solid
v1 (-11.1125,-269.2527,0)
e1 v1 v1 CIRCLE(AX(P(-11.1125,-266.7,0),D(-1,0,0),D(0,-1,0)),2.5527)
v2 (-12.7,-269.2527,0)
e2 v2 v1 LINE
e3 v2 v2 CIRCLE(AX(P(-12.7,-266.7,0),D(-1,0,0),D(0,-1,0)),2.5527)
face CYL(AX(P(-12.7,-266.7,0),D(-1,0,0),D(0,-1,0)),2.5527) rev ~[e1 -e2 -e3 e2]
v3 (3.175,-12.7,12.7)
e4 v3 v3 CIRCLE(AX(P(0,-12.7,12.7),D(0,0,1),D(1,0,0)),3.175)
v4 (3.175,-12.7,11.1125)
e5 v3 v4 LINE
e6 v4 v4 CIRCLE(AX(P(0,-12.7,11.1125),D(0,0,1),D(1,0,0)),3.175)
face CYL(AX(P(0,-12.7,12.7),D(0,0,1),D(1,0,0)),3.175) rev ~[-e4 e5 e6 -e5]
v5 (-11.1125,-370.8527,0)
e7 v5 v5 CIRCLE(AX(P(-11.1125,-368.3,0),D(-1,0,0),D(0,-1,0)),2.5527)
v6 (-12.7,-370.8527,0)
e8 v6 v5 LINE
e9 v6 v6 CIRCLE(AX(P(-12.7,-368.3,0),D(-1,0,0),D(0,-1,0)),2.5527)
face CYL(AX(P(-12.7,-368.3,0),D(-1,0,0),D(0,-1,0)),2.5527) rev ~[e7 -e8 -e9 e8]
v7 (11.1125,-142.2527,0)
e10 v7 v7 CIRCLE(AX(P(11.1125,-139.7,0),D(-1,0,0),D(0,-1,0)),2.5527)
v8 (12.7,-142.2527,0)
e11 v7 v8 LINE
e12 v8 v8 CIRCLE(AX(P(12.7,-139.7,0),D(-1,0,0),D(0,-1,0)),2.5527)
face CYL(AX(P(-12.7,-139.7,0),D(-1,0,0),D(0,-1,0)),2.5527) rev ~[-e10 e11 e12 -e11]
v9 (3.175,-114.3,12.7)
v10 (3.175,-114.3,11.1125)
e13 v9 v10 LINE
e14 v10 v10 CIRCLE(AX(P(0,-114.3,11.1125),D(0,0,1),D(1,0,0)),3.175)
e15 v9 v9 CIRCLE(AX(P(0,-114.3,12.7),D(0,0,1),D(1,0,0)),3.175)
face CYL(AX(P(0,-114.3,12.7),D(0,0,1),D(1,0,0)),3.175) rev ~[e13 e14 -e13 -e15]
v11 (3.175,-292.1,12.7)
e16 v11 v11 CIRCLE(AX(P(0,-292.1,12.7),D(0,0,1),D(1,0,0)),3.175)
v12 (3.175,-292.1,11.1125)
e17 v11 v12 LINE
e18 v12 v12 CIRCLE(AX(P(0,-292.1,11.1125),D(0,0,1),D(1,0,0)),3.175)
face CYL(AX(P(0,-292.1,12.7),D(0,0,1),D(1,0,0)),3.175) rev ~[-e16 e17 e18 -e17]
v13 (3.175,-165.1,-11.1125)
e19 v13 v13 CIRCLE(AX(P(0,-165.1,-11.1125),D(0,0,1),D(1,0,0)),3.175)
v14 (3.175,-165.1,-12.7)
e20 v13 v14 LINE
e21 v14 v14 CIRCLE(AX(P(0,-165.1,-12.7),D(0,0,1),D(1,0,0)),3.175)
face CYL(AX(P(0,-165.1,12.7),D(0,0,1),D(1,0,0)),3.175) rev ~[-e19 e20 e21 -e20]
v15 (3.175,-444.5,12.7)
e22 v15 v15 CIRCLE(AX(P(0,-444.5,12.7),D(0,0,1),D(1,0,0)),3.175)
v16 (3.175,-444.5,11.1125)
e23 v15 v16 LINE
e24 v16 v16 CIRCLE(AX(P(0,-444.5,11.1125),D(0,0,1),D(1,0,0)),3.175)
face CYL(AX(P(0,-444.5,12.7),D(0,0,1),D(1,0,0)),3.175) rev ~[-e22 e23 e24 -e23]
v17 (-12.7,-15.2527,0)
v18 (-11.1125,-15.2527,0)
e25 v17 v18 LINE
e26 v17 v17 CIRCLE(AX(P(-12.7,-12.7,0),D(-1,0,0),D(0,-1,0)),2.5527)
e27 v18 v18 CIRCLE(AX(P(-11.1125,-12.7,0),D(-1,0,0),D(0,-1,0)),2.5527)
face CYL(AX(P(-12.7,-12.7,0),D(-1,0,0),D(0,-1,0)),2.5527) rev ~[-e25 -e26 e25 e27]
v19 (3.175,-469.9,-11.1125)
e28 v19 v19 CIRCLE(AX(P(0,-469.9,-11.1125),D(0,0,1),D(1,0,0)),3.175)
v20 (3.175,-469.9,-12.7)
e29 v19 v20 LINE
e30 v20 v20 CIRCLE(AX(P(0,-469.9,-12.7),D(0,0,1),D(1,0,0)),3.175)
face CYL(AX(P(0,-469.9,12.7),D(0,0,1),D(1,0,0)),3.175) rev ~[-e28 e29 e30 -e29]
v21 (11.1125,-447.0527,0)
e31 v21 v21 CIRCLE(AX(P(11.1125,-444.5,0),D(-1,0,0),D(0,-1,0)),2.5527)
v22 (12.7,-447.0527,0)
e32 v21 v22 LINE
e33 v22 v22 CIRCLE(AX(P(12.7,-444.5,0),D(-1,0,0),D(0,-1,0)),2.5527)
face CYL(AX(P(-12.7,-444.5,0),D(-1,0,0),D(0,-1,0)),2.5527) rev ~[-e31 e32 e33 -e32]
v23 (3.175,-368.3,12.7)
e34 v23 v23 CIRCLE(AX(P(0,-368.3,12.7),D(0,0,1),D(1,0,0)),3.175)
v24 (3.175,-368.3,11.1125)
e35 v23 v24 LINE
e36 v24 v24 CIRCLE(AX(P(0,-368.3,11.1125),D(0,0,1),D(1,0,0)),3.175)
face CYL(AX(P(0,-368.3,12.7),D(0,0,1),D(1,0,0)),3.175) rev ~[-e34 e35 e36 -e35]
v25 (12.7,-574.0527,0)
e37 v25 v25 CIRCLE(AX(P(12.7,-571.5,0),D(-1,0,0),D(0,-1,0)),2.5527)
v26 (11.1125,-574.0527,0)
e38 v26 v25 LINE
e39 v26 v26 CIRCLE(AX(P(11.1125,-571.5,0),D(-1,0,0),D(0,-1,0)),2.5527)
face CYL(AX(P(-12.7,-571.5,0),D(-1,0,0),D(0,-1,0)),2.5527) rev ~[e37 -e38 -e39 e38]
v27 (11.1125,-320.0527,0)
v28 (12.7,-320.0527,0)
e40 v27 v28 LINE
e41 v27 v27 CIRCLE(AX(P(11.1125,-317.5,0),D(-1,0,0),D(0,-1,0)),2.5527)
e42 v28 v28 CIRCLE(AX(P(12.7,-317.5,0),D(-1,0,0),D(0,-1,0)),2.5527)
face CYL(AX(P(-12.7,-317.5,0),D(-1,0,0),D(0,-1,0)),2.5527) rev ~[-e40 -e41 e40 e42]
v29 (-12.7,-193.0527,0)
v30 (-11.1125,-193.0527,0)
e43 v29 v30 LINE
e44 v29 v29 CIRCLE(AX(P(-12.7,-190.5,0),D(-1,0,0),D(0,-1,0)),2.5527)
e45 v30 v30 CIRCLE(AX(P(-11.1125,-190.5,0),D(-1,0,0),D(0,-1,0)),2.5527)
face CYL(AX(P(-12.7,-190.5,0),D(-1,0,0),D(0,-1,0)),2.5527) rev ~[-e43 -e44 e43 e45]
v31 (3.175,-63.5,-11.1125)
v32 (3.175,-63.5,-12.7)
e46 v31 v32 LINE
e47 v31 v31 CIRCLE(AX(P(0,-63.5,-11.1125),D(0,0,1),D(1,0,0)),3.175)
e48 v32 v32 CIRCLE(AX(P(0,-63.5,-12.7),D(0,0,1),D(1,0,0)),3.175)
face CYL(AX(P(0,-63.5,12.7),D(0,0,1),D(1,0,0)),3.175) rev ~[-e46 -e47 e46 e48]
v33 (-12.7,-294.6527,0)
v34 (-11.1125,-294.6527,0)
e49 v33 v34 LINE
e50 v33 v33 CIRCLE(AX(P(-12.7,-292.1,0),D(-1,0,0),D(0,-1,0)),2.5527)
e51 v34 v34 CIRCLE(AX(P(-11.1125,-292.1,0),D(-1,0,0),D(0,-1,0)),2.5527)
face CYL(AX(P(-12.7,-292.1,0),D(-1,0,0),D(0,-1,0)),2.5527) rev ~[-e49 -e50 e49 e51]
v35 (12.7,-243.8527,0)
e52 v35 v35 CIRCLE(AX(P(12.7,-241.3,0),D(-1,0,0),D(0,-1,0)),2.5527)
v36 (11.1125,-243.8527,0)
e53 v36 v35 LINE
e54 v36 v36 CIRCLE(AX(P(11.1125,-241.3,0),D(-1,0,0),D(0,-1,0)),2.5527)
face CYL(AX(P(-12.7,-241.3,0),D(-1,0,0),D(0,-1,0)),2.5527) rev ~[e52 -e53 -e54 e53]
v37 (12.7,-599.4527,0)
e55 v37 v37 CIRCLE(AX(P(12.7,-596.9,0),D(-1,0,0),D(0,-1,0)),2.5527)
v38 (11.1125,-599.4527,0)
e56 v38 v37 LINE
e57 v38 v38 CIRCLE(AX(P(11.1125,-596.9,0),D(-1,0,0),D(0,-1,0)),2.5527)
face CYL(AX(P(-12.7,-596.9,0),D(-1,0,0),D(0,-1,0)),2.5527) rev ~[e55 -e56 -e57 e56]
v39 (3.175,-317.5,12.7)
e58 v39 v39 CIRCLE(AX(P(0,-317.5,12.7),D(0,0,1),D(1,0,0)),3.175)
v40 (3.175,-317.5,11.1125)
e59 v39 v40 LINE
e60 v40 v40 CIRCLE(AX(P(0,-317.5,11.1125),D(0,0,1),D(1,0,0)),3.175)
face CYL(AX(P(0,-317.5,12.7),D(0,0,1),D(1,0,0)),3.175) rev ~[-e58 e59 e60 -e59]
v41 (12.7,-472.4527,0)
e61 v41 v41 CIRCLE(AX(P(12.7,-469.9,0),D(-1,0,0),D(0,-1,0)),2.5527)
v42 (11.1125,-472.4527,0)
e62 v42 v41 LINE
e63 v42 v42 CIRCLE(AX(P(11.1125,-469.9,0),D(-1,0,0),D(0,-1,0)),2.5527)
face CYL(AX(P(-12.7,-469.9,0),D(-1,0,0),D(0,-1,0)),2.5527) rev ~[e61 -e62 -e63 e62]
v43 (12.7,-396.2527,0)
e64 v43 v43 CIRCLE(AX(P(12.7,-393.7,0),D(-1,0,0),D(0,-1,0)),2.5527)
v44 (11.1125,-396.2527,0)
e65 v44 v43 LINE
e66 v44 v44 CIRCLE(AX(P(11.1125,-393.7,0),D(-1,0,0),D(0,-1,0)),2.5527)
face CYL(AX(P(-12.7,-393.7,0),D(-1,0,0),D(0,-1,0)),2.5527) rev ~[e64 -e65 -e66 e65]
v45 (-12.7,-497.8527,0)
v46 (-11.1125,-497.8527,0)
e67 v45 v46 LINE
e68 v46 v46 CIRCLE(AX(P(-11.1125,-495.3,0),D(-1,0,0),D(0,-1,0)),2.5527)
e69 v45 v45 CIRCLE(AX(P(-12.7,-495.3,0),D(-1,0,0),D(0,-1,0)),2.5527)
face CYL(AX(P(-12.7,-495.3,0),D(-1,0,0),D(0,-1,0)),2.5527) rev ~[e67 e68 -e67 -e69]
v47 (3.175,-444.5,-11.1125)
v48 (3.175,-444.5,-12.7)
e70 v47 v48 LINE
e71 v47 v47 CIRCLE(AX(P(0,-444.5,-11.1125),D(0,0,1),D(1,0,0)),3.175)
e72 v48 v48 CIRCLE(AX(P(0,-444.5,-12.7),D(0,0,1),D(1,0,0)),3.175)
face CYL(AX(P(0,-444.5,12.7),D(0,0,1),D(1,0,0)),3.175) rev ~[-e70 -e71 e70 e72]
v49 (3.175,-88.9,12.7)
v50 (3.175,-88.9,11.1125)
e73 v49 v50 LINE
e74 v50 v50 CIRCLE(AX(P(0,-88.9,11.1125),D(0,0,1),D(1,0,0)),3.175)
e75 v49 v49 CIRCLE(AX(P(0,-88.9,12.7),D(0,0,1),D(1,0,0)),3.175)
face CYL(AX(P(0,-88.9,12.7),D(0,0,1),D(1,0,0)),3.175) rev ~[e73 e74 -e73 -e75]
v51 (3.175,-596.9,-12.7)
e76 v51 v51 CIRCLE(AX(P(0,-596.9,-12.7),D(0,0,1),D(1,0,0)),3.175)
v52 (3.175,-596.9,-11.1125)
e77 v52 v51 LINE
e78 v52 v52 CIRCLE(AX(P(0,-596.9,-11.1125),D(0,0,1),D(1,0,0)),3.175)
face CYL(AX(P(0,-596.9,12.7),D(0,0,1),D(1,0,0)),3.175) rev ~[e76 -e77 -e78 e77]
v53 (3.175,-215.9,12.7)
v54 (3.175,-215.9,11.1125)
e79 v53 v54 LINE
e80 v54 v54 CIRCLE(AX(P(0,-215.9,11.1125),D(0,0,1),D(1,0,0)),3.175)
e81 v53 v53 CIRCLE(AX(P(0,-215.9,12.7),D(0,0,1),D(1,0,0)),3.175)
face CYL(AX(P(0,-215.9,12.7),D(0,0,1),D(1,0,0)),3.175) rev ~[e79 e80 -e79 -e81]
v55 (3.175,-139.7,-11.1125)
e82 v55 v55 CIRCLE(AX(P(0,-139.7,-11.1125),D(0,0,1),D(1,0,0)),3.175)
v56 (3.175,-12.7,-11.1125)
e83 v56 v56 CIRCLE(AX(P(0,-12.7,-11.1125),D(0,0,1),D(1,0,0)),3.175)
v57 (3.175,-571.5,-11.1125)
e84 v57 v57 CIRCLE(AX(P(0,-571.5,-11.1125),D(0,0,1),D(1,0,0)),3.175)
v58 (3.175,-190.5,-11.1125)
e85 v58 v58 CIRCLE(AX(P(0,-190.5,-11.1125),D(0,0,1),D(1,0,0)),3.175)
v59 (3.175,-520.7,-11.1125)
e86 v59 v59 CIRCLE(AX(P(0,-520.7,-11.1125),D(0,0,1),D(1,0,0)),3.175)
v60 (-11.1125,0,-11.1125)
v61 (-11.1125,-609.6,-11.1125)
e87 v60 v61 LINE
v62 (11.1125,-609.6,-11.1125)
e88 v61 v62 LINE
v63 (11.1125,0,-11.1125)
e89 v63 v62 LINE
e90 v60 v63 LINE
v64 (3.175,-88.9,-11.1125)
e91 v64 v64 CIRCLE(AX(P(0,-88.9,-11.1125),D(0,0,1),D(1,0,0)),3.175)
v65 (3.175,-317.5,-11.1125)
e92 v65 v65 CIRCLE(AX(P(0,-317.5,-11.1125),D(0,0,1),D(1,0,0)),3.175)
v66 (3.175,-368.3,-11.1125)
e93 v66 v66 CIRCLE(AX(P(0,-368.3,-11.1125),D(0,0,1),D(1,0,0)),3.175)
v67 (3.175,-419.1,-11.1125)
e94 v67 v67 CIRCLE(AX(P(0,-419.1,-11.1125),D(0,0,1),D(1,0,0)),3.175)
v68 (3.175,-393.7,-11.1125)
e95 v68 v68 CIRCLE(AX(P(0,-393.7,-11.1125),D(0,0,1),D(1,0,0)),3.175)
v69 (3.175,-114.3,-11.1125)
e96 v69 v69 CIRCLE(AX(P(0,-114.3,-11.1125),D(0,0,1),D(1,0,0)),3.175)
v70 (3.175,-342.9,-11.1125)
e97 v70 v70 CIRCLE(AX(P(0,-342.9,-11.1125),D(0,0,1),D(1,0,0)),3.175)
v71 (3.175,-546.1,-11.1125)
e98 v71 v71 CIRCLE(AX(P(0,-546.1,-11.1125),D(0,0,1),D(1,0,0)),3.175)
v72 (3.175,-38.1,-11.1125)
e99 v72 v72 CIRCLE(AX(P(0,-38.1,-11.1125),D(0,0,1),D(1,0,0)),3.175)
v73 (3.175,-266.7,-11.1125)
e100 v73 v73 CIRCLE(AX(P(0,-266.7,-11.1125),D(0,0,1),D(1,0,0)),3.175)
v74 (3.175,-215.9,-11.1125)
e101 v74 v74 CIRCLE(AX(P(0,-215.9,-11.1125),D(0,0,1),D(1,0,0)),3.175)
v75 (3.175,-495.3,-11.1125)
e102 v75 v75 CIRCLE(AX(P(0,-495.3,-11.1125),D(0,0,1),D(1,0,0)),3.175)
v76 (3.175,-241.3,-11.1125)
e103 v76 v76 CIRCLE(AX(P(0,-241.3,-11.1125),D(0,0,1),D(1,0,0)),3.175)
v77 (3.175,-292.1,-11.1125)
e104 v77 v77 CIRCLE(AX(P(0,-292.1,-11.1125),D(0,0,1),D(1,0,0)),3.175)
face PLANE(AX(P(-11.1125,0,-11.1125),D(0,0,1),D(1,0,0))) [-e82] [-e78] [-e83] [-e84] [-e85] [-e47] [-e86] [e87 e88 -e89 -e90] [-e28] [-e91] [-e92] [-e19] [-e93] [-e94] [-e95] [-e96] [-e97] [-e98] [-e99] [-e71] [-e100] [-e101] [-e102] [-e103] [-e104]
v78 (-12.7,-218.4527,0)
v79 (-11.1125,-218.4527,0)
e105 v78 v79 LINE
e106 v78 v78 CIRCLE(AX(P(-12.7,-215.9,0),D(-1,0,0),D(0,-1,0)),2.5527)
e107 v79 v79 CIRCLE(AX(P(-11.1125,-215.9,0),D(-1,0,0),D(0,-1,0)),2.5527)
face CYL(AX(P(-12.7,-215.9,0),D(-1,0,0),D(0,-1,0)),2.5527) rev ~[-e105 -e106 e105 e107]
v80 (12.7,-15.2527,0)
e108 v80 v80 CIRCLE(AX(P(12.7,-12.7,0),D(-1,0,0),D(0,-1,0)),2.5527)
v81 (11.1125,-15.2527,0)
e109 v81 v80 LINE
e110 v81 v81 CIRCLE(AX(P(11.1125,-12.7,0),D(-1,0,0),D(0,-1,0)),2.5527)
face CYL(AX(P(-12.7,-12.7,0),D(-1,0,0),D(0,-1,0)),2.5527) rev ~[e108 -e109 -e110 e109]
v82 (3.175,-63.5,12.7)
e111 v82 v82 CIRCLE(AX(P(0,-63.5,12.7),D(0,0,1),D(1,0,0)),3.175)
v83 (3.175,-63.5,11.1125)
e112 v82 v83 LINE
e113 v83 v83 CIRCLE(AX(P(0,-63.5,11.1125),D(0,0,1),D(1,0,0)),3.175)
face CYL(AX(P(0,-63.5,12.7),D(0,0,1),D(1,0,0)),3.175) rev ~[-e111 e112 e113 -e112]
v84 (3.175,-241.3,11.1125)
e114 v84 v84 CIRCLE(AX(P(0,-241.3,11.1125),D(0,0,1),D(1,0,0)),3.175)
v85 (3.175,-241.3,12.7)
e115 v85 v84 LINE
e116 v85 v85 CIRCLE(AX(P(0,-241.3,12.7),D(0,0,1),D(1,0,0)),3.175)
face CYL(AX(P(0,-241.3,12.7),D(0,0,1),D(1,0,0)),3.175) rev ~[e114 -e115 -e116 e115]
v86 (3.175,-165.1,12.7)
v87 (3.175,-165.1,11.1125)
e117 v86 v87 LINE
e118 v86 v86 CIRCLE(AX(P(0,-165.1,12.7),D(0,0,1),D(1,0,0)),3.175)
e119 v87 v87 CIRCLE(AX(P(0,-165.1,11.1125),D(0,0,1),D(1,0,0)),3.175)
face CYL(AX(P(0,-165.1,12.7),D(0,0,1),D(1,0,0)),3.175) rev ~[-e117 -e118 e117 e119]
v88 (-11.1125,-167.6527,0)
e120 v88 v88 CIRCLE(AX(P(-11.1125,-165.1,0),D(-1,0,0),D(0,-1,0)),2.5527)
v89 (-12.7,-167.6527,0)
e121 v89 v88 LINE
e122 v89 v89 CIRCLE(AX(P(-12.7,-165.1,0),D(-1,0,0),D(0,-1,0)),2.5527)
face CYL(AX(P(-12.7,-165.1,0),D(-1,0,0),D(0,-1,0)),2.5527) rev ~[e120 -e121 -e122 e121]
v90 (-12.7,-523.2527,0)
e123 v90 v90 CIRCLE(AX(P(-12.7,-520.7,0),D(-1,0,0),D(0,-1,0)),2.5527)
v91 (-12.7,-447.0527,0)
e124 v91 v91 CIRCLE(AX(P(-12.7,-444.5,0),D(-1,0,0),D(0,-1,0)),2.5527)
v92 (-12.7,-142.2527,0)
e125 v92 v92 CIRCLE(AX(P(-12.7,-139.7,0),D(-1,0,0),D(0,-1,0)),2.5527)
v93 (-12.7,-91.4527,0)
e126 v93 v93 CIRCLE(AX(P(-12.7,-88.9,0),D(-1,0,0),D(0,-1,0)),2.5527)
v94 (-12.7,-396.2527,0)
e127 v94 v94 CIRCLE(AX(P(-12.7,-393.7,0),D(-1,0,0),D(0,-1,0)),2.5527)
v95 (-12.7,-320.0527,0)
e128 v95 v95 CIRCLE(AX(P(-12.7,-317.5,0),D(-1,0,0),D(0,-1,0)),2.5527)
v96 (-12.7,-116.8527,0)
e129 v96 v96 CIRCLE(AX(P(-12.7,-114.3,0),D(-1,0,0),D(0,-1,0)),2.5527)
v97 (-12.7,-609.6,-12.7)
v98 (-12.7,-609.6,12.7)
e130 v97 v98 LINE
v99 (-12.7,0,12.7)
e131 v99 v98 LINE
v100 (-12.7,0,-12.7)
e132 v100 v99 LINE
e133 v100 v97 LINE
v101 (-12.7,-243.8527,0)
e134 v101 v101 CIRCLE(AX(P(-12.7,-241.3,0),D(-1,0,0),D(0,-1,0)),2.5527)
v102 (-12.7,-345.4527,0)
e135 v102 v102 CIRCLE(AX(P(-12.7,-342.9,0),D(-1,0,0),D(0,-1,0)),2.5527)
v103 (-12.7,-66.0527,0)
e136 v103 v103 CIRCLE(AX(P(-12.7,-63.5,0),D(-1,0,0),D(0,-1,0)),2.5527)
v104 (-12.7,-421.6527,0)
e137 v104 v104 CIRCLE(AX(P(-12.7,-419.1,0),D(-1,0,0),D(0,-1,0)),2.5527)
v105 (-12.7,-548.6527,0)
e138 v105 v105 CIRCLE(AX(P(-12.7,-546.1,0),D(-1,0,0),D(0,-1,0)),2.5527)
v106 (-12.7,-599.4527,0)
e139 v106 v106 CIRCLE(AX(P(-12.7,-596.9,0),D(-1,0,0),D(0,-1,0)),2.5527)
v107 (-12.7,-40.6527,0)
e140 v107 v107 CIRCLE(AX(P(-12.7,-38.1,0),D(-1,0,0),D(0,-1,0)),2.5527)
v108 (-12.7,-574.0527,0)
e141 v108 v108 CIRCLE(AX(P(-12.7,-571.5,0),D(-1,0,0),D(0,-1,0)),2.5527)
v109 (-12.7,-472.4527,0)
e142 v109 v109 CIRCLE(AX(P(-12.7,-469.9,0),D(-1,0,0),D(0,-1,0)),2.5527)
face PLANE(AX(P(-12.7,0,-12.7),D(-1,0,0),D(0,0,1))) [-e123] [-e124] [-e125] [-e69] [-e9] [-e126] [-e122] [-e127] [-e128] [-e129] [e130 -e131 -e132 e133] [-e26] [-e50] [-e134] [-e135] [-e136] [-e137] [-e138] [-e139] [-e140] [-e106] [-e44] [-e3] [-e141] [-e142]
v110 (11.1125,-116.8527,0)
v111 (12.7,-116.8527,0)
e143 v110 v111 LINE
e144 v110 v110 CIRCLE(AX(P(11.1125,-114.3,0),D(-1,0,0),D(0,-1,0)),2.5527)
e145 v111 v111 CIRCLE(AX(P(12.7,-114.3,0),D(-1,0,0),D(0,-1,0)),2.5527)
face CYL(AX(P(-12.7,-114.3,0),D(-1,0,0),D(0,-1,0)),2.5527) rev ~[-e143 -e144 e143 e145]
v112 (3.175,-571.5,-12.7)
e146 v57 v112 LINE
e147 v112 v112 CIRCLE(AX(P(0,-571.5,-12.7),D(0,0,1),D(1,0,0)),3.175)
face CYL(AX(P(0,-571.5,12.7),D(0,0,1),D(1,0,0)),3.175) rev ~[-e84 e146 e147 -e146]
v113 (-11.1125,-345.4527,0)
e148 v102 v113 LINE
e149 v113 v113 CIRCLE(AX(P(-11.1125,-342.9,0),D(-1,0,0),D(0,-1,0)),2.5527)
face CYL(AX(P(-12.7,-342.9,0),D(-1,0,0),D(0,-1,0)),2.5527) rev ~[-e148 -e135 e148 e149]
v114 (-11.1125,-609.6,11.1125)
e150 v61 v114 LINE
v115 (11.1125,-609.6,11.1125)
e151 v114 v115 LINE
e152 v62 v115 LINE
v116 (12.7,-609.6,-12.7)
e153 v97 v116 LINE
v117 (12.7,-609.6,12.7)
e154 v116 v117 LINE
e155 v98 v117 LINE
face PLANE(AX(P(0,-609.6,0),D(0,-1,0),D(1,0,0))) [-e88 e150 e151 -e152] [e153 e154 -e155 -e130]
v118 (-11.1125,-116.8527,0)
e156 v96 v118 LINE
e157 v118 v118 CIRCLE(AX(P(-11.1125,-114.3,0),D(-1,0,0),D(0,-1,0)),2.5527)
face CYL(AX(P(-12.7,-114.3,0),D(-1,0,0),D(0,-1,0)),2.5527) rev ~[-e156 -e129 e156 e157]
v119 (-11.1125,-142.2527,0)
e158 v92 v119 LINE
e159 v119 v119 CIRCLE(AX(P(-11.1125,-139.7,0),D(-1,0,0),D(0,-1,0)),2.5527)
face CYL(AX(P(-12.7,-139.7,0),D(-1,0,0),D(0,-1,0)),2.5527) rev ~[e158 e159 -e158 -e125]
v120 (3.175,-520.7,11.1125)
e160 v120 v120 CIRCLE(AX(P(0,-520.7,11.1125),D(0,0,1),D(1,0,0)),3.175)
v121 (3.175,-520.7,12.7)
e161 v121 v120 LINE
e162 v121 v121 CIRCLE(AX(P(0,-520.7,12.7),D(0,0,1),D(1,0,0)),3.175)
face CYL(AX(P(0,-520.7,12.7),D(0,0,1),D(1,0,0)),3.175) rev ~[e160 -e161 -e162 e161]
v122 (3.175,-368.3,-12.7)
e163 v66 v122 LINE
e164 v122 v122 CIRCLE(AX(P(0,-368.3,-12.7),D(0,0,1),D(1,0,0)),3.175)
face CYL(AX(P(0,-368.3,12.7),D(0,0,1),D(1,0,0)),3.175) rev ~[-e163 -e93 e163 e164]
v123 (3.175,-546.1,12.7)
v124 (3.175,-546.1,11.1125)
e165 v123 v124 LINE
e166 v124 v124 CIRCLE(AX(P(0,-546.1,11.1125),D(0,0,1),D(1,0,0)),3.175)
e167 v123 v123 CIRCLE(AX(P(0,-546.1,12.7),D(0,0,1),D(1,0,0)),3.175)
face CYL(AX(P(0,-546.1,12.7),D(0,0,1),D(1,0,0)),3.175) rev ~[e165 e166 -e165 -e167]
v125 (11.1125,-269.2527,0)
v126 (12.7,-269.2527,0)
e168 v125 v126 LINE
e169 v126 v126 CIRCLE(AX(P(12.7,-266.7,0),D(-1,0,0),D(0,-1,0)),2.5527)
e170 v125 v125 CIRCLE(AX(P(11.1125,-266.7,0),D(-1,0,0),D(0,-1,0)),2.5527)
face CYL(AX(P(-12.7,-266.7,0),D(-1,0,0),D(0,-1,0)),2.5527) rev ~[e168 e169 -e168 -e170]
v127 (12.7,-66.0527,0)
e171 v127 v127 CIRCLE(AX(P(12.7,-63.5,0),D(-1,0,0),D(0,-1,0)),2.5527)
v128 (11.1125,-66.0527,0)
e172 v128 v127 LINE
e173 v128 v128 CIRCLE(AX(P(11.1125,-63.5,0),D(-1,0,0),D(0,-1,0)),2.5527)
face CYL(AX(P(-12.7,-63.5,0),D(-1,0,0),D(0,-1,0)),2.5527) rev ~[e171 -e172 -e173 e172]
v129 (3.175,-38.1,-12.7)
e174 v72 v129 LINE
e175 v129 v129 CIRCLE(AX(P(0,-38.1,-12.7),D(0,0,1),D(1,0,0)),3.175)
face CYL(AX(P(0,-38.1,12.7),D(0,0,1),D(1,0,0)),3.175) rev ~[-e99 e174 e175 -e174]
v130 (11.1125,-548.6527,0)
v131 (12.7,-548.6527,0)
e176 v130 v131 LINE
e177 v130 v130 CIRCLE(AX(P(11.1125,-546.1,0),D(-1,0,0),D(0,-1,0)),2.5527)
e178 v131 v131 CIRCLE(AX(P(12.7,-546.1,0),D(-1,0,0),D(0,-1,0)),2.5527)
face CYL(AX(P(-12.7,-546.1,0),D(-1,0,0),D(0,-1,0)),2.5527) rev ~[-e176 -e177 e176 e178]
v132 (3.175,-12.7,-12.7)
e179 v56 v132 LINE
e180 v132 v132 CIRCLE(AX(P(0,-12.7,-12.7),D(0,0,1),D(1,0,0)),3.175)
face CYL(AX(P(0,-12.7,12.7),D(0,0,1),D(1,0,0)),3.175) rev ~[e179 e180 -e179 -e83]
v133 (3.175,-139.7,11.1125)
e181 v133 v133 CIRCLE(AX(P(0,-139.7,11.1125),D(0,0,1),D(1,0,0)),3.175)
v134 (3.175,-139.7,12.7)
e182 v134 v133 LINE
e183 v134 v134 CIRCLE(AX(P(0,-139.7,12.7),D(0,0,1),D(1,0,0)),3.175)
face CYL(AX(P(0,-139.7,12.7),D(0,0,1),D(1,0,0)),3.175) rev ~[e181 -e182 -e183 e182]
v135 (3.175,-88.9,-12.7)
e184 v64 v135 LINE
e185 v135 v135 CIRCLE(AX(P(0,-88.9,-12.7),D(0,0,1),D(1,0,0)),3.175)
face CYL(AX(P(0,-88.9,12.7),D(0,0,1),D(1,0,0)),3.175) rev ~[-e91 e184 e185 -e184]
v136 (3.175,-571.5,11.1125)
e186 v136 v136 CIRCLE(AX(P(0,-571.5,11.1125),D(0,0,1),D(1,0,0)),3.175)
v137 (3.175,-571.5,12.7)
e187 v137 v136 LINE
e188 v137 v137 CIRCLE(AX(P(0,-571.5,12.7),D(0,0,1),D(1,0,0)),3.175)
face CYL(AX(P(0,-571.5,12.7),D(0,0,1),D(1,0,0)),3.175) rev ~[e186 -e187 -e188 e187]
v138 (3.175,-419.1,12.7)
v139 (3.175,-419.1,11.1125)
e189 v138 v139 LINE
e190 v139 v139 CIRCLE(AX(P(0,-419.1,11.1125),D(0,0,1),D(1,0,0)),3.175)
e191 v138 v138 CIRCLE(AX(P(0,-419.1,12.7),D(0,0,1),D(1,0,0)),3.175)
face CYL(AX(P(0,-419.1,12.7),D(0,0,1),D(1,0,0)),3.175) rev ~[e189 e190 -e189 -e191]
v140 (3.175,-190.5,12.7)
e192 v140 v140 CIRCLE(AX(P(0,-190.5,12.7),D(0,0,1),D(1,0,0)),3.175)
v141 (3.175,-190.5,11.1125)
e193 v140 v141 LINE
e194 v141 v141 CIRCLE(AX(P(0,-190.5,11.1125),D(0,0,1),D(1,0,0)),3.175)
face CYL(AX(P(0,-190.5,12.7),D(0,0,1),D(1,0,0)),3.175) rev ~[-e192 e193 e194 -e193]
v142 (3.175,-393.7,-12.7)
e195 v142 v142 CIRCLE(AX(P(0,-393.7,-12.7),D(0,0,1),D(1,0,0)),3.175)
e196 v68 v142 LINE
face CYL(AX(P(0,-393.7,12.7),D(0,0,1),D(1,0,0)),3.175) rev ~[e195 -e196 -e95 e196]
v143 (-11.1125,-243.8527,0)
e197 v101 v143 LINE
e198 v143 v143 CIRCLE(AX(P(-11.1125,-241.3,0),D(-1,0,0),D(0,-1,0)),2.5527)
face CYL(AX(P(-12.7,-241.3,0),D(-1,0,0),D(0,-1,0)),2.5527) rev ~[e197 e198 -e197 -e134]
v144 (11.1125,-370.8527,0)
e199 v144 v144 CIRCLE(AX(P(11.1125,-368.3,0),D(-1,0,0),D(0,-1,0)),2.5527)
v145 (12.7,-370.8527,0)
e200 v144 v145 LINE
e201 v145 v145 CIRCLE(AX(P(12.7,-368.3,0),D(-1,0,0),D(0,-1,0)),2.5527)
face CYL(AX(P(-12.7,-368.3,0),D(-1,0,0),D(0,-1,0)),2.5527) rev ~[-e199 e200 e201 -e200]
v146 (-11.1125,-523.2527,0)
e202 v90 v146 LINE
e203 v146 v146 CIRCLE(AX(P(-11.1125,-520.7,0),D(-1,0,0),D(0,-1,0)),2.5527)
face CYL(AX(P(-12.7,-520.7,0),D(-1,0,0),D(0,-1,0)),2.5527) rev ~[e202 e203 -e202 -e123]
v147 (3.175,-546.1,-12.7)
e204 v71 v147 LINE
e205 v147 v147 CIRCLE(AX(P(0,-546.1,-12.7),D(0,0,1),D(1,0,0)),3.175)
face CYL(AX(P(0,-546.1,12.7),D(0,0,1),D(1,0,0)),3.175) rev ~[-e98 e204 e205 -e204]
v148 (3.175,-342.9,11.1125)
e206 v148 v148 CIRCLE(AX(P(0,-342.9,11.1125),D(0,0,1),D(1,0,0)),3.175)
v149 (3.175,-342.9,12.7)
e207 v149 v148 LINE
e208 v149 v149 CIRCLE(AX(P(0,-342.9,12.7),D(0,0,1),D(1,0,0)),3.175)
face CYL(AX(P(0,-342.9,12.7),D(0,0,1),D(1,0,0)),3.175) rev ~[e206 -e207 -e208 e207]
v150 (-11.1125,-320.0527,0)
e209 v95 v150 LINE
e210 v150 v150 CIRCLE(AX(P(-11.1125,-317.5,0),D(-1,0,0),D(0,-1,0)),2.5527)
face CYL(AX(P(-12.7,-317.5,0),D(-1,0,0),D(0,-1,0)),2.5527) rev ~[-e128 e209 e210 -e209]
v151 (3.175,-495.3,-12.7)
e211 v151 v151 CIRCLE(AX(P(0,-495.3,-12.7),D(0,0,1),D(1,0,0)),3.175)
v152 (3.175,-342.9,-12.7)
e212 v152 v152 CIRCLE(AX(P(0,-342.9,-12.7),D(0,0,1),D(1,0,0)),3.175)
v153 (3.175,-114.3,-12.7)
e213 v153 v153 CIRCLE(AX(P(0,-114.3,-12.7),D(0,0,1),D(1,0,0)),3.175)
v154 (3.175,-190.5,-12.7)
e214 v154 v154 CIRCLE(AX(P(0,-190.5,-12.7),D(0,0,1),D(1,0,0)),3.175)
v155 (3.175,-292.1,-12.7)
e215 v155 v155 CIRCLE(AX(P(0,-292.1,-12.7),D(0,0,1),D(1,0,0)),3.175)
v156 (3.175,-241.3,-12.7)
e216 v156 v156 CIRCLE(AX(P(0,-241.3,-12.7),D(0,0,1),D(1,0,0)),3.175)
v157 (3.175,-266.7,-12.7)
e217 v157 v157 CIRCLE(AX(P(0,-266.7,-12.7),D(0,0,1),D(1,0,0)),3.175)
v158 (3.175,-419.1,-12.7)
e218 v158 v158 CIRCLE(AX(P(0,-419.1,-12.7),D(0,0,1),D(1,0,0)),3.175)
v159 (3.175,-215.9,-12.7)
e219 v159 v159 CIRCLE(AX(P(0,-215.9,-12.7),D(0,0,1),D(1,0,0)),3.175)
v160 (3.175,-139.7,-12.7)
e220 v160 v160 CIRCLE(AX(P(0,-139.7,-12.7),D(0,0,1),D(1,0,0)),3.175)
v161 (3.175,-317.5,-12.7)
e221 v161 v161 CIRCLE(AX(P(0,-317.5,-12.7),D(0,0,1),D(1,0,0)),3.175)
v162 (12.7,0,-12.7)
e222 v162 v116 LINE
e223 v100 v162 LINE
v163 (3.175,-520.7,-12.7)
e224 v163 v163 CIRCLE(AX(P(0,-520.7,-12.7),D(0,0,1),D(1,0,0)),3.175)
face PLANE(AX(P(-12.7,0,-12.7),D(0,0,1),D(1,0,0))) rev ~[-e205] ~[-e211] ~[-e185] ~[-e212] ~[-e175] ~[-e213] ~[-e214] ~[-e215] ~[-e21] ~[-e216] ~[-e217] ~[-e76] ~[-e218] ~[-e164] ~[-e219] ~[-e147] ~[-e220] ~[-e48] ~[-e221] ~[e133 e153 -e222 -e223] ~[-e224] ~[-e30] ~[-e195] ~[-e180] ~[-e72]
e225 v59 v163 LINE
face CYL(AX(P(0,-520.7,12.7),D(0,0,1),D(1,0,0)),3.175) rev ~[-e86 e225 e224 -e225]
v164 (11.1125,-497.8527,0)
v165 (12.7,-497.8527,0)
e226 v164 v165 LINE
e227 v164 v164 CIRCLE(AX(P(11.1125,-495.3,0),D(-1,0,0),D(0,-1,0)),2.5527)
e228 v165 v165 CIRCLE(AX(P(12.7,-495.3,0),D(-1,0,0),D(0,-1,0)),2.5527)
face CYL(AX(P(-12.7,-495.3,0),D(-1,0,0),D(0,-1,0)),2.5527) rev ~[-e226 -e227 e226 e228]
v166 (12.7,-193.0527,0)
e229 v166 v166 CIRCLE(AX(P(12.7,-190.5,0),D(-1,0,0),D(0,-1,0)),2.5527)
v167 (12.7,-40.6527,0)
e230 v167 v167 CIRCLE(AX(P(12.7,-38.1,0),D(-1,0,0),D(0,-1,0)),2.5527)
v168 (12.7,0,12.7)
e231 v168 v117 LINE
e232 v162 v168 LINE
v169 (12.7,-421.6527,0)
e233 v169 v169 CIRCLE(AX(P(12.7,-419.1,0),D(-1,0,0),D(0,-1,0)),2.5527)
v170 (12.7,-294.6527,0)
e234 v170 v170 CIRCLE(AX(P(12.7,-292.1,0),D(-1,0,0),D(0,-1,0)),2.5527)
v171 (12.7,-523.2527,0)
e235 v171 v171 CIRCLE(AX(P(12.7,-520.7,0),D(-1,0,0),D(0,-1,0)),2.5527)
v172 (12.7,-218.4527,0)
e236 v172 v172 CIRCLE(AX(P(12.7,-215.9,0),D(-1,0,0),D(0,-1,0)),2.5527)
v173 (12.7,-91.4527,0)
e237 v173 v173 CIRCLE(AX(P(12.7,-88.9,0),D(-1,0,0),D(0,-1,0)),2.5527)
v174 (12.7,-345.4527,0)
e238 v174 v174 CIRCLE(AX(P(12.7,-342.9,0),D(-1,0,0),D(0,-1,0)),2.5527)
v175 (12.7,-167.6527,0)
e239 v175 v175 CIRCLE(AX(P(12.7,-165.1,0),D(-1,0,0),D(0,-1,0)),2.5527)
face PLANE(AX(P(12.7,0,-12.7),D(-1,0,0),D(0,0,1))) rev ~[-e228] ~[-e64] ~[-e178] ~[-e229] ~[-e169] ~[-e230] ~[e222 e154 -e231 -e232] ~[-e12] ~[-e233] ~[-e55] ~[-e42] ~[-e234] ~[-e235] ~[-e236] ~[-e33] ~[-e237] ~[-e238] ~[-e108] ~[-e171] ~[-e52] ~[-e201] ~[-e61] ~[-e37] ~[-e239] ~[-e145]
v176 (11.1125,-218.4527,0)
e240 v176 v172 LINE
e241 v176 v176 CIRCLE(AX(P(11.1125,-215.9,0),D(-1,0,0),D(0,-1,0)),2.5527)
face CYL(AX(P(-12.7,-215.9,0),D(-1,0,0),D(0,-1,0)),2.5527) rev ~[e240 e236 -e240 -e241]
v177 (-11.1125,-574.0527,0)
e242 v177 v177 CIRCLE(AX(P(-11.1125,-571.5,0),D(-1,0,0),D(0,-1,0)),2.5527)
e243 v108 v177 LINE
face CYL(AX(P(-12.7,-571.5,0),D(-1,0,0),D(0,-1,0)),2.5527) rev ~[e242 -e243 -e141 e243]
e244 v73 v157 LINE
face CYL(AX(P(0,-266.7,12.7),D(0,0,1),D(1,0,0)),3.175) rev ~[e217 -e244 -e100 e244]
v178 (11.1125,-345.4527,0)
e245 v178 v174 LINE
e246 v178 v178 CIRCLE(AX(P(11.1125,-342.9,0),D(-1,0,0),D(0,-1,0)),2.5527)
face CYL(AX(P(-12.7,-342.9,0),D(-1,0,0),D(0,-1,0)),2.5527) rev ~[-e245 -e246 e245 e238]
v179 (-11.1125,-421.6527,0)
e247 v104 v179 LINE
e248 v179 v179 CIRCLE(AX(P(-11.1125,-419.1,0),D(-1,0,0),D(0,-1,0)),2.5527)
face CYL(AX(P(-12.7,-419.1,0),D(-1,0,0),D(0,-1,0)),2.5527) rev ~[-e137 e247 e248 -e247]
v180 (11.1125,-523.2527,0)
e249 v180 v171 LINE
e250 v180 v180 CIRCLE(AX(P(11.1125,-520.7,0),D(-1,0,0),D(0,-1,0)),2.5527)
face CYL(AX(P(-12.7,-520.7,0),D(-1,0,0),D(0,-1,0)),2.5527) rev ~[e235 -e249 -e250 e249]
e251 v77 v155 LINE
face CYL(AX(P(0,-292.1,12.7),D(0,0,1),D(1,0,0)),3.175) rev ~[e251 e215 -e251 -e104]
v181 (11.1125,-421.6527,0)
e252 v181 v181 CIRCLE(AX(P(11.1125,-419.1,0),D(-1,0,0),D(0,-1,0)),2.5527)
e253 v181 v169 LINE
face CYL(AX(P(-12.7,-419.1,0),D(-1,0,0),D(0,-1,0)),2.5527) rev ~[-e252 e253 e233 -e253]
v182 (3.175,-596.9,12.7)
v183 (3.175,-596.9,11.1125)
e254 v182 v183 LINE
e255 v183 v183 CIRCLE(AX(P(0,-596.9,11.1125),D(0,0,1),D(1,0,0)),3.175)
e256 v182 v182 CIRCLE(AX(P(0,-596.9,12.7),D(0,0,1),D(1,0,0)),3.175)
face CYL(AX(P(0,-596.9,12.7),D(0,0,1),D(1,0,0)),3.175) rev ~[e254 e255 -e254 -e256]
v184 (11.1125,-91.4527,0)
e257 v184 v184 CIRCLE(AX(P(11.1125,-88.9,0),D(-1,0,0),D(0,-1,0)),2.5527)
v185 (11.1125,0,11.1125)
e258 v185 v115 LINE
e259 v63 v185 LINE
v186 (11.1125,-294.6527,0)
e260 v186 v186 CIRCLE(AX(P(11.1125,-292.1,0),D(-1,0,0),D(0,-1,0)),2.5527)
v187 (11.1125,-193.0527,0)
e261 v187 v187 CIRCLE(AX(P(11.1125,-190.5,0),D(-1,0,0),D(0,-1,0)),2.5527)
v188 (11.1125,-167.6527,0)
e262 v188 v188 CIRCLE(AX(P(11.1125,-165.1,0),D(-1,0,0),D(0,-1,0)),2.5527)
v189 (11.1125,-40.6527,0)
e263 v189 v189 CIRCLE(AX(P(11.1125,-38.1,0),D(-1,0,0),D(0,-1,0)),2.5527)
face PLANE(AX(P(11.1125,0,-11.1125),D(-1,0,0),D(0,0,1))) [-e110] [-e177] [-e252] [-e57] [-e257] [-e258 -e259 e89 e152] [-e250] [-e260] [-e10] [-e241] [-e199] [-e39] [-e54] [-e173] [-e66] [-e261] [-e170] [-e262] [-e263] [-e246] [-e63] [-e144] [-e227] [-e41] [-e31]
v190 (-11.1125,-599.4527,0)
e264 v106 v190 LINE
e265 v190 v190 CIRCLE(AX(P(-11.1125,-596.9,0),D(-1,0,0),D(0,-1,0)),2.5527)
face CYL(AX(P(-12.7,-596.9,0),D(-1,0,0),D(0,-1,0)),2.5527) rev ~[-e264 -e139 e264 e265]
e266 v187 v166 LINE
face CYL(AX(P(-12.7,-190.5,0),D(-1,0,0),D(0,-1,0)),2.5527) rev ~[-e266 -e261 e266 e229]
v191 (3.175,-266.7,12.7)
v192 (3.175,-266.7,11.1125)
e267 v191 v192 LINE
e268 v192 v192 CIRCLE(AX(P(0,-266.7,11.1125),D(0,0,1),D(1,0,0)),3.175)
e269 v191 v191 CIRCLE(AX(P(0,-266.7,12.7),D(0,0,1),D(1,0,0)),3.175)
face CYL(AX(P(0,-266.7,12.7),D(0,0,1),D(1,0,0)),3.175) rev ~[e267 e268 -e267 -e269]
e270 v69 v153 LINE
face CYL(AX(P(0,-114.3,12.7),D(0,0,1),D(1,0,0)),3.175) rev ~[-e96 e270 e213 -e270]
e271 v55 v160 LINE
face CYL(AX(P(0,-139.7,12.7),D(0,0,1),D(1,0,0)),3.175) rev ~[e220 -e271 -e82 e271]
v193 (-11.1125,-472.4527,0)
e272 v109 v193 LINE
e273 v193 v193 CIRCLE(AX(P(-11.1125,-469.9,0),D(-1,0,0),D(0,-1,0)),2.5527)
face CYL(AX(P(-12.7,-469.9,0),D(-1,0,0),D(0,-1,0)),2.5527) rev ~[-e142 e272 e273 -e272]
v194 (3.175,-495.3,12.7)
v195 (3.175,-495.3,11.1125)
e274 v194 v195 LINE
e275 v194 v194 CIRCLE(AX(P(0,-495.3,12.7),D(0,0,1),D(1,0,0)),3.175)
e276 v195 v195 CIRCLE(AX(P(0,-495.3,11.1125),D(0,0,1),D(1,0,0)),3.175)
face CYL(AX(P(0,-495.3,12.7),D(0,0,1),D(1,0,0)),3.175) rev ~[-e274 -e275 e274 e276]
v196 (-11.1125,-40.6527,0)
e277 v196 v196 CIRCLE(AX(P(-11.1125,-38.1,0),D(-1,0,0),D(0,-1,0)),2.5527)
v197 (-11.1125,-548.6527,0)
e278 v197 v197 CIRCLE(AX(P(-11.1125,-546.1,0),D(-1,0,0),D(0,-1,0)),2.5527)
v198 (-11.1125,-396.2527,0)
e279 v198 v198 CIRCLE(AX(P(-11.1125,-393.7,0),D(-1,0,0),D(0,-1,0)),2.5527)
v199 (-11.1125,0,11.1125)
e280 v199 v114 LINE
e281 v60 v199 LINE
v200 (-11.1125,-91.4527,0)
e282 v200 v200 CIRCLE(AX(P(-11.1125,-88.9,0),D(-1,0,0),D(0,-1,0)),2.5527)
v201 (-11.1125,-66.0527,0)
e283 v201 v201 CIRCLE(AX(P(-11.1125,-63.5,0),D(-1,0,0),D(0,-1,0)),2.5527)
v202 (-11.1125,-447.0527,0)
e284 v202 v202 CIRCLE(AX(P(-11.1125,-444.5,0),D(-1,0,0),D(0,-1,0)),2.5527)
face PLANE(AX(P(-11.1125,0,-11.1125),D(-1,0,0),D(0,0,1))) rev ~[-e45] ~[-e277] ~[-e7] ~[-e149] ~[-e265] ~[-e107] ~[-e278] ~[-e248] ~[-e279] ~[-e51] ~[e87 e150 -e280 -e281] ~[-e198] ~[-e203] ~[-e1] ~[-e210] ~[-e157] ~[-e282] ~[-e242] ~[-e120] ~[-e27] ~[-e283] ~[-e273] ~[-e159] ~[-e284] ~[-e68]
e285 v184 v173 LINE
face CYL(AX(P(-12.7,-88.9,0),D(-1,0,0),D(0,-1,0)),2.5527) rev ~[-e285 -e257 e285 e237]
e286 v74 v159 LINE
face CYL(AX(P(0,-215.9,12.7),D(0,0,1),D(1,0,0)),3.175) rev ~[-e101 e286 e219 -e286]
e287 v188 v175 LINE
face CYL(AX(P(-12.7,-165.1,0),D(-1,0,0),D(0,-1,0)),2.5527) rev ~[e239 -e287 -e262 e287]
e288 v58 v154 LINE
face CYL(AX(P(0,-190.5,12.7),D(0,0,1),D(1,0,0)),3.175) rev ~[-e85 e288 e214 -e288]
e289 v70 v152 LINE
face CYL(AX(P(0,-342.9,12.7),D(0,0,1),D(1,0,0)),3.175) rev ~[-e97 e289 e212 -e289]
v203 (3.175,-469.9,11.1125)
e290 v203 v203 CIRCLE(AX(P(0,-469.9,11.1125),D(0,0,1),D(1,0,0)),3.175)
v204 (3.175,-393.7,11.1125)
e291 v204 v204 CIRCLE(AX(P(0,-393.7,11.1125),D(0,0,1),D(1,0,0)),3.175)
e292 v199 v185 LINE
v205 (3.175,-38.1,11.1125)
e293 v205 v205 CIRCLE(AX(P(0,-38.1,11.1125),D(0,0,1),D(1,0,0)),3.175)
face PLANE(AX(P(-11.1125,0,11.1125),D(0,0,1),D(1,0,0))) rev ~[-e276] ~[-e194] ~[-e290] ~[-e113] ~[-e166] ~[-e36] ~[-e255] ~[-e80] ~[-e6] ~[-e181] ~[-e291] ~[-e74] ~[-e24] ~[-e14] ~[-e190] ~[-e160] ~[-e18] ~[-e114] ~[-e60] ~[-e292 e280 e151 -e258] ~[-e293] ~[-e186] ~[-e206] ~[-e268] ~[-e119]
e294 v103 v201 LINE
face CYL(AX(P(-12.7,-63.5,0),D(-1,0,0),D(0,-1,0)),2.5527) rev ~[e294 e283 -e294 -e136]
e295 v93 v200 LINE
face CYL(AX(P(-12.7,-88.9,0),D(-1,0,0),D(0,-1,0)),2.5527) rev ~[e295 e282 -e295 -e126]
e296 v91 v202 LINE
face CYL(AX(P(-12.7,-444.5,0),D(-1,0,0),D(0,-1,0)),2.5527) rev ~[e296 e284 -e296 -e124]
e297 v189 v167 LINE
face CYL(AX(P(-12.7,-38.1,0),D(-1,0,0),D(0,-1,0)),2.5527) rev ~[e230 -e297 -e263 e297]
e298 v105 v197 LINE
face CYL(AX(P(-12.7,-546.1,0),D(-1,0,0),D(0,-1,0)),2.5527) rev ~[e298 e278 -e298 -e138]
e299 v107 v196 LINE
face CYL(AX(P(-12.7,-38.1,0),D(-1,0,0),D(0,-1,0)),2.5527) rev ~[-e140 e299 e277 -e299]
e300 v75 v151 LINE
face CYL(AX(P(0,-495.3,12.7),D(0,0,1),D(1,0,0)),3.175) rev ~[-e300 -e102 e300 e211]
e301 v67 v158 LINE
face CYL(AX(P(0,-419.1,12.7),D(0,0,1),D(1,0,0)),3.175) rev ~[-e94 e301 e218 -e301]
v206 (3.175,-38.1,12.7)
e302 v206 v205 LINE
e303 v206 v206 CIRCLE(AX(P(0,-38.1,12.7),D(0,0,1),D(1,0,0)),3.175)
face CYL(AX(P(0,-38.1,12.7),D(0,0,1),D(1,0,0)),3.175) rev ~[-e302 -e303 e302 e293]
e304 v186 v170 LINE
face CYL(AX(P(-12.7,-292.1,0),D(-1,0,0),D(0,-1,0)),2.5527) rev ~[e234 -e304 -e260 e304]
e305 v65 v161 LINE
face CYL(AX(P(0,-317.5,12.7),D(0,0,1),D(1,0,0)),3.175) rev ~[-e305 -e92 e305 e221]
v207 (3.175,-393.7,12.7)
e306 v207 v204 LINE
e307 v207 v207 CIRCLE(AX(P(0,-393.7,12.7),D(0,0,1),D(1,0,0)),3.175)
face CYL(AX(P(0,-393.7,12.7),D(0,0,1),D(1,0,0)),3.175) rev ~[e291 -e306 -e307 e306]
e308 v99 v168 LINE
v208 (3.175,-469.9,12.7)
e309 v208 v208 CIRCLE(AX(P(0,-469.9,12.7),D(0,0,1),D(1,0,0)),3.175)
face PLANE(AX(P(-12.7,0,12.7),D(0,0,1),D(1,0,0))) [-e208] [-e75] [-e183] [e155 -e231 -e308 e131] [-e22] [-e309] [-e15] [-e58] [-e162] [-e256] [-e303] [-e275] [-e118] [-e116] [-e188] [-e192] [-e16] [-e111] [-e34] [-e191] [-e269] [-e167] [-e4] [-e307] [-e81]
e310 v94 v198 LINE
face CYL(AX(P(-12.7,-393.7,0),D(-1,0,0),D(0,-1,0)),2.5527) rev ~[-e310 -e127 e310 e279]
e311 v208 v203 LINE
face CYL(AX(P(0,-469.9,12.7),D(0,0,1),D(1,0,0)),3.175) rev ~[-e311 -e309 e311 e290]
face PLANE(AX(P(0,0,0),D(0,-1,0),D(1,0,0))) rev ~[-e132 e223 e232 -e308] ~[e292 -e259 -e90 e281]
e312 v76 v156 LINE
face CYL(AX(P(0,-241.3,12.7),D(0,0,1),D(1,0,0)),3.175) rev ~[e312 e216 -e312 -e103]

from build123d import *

# Parameters (mm, degrees)
F0_W     = 25.4
F0_H     = 25.4
F0_W_2   = 22.225
F0_H_2   = 22.225
F1_DEPTH = 609.6
F2_R     = 3.175
F3_DEPTH = 25.4
F4_R     = 2.5527
F5_DEPTH = 25.4


with BuildPart() as f1:
    # F0 (on Front) → F1 (new body)
    with BuildSketch(Plane.XZ):
        Rectangle(F0_W, F0_H)
        Rectangle(F0_W_2, F0_H_2, mode=Mode.SUBTRACT)
    extrude(amount=F1_DEPTH)

    # F2 (on face) → F3 (cut)
    with BuildSketch(Plane.XY.offset(12.7)):
        with Locations((0, -12.7)):
            Circle(F2_R)
        with Locations((0, -38.1)):
            Circle(F2_R)
        with Locations((0, -63.5)):
            Circle(F2_R)
        with Locations((0, -88.9)):
            Circle(F2_R)
        with Locations((0, -114.3)):
            Circle(F2_R)
        with Locations((0, -139.7)):
            Circle(F2_R)
        with Locations((0, -165.1)):
            Circle(F2_R)
        with Locations((0, -190.5)):
            Circle(F2_R)
        with Locations((0, -215.9)):
            Circle(F2_R)
        with Locations((0, -241.3)):
            Circle(F2_R)
        with Locations((0, -266.7)):
            Circle(F2_R)
        with Locations((0, -292.1)):
            Circle(F2_R)
        with Locations((0, -317.5)):
            Circle(F2_R)
        with Locations((0, -342.9)):
            Circle(F2_R)
        with Locations((0, -368.3)):
            Circle(F2_R)
        with Locations((0, -393.7)):
            Circle(F2_R)
        with Locations((0, -419.1)):
            Circle(F2_R)
        with Locations((0, -444.5)):
            Circle(F2_R)
        with Locations((0, -469.9)):
            Circle(F2_R)
        with Locations((0, -495.3)):
            Circle(F2_R)
        with Locations((0, -520.7)):
            Circle(F2_R)
        with Locations((0, -546.1)):
            Circle(F2_R)
        with Locations((0, -571.5)):
            Circle(F2_R)
        with Locations((0, -596.9)):
            Circle(F2_R)
    extrude(amount=-F3_DEPTH, mode=Mode.SUBTRACT)

    # F4 (on face) → F5 (cut)
    with BuildSketch(Plane(origin=(-12.7, 0, 0), x_dir=(0, -1, 0), z_dir=(-1, 0, 0))):
        with Locations((12.7, 0)):
            Circle(F4_R)
        with Locations((38.1, 0)):
            Circle(F4_R)
        with Locations((63.5, 0)):
            Circle(F4_R)
        with Locations((88.9, 0)):
            Circle(F4_R)
        with Locations((114.3, 0)):
            Circle(F4_R)
        with Locations((139.7, 0)):
            Circle(F4_R)
        with Locations((165.1, 0)):
            Circle(F4_R)
        with Locations((190.5, 0)):
            Circle(F4_R)
        with Locations((215.9, 0)):
            Circle(F4_R)
        with Locations((241.3, 0)):
            Circle(F4_R)
        with Locations((266.7, 0)):
            Circle(F4_R)
        with Locations((292.1, 0)):
            Circle(F4_R)
        with Locations((317.5, 0)):
            Circle(F4_R)
        with Locations((342.9, 0)):
            Circle(F4_R)
        with Locations((368.3, 0)):
            Circle(F4_R)
        with Locations((393.7, 0)):
            Circle(F4_R)
        with Locations((419.1, 0)):
            Circle(F4_R)
        with Locations((444.5, 0)):
            Circle(F4_R)
        with Locations((469.9, 0)):
            Circle(F4_R)
        with Locations((495.3, 0)):
            Circle(F4_R)
        with Locations((520.7, 0)):
            Circle(F4_R)
        with Locations((546.1, 0)):
            Circle(F4_R)
        with Locations((571.5, 0)):
            Circle(F4_R)
        with Locations((596.9, 0)):
            Circle(F4_R)
    extrude(amount=-F5_DEPTH, mode=Mode.SUBTRACT)


solid = f1.part
